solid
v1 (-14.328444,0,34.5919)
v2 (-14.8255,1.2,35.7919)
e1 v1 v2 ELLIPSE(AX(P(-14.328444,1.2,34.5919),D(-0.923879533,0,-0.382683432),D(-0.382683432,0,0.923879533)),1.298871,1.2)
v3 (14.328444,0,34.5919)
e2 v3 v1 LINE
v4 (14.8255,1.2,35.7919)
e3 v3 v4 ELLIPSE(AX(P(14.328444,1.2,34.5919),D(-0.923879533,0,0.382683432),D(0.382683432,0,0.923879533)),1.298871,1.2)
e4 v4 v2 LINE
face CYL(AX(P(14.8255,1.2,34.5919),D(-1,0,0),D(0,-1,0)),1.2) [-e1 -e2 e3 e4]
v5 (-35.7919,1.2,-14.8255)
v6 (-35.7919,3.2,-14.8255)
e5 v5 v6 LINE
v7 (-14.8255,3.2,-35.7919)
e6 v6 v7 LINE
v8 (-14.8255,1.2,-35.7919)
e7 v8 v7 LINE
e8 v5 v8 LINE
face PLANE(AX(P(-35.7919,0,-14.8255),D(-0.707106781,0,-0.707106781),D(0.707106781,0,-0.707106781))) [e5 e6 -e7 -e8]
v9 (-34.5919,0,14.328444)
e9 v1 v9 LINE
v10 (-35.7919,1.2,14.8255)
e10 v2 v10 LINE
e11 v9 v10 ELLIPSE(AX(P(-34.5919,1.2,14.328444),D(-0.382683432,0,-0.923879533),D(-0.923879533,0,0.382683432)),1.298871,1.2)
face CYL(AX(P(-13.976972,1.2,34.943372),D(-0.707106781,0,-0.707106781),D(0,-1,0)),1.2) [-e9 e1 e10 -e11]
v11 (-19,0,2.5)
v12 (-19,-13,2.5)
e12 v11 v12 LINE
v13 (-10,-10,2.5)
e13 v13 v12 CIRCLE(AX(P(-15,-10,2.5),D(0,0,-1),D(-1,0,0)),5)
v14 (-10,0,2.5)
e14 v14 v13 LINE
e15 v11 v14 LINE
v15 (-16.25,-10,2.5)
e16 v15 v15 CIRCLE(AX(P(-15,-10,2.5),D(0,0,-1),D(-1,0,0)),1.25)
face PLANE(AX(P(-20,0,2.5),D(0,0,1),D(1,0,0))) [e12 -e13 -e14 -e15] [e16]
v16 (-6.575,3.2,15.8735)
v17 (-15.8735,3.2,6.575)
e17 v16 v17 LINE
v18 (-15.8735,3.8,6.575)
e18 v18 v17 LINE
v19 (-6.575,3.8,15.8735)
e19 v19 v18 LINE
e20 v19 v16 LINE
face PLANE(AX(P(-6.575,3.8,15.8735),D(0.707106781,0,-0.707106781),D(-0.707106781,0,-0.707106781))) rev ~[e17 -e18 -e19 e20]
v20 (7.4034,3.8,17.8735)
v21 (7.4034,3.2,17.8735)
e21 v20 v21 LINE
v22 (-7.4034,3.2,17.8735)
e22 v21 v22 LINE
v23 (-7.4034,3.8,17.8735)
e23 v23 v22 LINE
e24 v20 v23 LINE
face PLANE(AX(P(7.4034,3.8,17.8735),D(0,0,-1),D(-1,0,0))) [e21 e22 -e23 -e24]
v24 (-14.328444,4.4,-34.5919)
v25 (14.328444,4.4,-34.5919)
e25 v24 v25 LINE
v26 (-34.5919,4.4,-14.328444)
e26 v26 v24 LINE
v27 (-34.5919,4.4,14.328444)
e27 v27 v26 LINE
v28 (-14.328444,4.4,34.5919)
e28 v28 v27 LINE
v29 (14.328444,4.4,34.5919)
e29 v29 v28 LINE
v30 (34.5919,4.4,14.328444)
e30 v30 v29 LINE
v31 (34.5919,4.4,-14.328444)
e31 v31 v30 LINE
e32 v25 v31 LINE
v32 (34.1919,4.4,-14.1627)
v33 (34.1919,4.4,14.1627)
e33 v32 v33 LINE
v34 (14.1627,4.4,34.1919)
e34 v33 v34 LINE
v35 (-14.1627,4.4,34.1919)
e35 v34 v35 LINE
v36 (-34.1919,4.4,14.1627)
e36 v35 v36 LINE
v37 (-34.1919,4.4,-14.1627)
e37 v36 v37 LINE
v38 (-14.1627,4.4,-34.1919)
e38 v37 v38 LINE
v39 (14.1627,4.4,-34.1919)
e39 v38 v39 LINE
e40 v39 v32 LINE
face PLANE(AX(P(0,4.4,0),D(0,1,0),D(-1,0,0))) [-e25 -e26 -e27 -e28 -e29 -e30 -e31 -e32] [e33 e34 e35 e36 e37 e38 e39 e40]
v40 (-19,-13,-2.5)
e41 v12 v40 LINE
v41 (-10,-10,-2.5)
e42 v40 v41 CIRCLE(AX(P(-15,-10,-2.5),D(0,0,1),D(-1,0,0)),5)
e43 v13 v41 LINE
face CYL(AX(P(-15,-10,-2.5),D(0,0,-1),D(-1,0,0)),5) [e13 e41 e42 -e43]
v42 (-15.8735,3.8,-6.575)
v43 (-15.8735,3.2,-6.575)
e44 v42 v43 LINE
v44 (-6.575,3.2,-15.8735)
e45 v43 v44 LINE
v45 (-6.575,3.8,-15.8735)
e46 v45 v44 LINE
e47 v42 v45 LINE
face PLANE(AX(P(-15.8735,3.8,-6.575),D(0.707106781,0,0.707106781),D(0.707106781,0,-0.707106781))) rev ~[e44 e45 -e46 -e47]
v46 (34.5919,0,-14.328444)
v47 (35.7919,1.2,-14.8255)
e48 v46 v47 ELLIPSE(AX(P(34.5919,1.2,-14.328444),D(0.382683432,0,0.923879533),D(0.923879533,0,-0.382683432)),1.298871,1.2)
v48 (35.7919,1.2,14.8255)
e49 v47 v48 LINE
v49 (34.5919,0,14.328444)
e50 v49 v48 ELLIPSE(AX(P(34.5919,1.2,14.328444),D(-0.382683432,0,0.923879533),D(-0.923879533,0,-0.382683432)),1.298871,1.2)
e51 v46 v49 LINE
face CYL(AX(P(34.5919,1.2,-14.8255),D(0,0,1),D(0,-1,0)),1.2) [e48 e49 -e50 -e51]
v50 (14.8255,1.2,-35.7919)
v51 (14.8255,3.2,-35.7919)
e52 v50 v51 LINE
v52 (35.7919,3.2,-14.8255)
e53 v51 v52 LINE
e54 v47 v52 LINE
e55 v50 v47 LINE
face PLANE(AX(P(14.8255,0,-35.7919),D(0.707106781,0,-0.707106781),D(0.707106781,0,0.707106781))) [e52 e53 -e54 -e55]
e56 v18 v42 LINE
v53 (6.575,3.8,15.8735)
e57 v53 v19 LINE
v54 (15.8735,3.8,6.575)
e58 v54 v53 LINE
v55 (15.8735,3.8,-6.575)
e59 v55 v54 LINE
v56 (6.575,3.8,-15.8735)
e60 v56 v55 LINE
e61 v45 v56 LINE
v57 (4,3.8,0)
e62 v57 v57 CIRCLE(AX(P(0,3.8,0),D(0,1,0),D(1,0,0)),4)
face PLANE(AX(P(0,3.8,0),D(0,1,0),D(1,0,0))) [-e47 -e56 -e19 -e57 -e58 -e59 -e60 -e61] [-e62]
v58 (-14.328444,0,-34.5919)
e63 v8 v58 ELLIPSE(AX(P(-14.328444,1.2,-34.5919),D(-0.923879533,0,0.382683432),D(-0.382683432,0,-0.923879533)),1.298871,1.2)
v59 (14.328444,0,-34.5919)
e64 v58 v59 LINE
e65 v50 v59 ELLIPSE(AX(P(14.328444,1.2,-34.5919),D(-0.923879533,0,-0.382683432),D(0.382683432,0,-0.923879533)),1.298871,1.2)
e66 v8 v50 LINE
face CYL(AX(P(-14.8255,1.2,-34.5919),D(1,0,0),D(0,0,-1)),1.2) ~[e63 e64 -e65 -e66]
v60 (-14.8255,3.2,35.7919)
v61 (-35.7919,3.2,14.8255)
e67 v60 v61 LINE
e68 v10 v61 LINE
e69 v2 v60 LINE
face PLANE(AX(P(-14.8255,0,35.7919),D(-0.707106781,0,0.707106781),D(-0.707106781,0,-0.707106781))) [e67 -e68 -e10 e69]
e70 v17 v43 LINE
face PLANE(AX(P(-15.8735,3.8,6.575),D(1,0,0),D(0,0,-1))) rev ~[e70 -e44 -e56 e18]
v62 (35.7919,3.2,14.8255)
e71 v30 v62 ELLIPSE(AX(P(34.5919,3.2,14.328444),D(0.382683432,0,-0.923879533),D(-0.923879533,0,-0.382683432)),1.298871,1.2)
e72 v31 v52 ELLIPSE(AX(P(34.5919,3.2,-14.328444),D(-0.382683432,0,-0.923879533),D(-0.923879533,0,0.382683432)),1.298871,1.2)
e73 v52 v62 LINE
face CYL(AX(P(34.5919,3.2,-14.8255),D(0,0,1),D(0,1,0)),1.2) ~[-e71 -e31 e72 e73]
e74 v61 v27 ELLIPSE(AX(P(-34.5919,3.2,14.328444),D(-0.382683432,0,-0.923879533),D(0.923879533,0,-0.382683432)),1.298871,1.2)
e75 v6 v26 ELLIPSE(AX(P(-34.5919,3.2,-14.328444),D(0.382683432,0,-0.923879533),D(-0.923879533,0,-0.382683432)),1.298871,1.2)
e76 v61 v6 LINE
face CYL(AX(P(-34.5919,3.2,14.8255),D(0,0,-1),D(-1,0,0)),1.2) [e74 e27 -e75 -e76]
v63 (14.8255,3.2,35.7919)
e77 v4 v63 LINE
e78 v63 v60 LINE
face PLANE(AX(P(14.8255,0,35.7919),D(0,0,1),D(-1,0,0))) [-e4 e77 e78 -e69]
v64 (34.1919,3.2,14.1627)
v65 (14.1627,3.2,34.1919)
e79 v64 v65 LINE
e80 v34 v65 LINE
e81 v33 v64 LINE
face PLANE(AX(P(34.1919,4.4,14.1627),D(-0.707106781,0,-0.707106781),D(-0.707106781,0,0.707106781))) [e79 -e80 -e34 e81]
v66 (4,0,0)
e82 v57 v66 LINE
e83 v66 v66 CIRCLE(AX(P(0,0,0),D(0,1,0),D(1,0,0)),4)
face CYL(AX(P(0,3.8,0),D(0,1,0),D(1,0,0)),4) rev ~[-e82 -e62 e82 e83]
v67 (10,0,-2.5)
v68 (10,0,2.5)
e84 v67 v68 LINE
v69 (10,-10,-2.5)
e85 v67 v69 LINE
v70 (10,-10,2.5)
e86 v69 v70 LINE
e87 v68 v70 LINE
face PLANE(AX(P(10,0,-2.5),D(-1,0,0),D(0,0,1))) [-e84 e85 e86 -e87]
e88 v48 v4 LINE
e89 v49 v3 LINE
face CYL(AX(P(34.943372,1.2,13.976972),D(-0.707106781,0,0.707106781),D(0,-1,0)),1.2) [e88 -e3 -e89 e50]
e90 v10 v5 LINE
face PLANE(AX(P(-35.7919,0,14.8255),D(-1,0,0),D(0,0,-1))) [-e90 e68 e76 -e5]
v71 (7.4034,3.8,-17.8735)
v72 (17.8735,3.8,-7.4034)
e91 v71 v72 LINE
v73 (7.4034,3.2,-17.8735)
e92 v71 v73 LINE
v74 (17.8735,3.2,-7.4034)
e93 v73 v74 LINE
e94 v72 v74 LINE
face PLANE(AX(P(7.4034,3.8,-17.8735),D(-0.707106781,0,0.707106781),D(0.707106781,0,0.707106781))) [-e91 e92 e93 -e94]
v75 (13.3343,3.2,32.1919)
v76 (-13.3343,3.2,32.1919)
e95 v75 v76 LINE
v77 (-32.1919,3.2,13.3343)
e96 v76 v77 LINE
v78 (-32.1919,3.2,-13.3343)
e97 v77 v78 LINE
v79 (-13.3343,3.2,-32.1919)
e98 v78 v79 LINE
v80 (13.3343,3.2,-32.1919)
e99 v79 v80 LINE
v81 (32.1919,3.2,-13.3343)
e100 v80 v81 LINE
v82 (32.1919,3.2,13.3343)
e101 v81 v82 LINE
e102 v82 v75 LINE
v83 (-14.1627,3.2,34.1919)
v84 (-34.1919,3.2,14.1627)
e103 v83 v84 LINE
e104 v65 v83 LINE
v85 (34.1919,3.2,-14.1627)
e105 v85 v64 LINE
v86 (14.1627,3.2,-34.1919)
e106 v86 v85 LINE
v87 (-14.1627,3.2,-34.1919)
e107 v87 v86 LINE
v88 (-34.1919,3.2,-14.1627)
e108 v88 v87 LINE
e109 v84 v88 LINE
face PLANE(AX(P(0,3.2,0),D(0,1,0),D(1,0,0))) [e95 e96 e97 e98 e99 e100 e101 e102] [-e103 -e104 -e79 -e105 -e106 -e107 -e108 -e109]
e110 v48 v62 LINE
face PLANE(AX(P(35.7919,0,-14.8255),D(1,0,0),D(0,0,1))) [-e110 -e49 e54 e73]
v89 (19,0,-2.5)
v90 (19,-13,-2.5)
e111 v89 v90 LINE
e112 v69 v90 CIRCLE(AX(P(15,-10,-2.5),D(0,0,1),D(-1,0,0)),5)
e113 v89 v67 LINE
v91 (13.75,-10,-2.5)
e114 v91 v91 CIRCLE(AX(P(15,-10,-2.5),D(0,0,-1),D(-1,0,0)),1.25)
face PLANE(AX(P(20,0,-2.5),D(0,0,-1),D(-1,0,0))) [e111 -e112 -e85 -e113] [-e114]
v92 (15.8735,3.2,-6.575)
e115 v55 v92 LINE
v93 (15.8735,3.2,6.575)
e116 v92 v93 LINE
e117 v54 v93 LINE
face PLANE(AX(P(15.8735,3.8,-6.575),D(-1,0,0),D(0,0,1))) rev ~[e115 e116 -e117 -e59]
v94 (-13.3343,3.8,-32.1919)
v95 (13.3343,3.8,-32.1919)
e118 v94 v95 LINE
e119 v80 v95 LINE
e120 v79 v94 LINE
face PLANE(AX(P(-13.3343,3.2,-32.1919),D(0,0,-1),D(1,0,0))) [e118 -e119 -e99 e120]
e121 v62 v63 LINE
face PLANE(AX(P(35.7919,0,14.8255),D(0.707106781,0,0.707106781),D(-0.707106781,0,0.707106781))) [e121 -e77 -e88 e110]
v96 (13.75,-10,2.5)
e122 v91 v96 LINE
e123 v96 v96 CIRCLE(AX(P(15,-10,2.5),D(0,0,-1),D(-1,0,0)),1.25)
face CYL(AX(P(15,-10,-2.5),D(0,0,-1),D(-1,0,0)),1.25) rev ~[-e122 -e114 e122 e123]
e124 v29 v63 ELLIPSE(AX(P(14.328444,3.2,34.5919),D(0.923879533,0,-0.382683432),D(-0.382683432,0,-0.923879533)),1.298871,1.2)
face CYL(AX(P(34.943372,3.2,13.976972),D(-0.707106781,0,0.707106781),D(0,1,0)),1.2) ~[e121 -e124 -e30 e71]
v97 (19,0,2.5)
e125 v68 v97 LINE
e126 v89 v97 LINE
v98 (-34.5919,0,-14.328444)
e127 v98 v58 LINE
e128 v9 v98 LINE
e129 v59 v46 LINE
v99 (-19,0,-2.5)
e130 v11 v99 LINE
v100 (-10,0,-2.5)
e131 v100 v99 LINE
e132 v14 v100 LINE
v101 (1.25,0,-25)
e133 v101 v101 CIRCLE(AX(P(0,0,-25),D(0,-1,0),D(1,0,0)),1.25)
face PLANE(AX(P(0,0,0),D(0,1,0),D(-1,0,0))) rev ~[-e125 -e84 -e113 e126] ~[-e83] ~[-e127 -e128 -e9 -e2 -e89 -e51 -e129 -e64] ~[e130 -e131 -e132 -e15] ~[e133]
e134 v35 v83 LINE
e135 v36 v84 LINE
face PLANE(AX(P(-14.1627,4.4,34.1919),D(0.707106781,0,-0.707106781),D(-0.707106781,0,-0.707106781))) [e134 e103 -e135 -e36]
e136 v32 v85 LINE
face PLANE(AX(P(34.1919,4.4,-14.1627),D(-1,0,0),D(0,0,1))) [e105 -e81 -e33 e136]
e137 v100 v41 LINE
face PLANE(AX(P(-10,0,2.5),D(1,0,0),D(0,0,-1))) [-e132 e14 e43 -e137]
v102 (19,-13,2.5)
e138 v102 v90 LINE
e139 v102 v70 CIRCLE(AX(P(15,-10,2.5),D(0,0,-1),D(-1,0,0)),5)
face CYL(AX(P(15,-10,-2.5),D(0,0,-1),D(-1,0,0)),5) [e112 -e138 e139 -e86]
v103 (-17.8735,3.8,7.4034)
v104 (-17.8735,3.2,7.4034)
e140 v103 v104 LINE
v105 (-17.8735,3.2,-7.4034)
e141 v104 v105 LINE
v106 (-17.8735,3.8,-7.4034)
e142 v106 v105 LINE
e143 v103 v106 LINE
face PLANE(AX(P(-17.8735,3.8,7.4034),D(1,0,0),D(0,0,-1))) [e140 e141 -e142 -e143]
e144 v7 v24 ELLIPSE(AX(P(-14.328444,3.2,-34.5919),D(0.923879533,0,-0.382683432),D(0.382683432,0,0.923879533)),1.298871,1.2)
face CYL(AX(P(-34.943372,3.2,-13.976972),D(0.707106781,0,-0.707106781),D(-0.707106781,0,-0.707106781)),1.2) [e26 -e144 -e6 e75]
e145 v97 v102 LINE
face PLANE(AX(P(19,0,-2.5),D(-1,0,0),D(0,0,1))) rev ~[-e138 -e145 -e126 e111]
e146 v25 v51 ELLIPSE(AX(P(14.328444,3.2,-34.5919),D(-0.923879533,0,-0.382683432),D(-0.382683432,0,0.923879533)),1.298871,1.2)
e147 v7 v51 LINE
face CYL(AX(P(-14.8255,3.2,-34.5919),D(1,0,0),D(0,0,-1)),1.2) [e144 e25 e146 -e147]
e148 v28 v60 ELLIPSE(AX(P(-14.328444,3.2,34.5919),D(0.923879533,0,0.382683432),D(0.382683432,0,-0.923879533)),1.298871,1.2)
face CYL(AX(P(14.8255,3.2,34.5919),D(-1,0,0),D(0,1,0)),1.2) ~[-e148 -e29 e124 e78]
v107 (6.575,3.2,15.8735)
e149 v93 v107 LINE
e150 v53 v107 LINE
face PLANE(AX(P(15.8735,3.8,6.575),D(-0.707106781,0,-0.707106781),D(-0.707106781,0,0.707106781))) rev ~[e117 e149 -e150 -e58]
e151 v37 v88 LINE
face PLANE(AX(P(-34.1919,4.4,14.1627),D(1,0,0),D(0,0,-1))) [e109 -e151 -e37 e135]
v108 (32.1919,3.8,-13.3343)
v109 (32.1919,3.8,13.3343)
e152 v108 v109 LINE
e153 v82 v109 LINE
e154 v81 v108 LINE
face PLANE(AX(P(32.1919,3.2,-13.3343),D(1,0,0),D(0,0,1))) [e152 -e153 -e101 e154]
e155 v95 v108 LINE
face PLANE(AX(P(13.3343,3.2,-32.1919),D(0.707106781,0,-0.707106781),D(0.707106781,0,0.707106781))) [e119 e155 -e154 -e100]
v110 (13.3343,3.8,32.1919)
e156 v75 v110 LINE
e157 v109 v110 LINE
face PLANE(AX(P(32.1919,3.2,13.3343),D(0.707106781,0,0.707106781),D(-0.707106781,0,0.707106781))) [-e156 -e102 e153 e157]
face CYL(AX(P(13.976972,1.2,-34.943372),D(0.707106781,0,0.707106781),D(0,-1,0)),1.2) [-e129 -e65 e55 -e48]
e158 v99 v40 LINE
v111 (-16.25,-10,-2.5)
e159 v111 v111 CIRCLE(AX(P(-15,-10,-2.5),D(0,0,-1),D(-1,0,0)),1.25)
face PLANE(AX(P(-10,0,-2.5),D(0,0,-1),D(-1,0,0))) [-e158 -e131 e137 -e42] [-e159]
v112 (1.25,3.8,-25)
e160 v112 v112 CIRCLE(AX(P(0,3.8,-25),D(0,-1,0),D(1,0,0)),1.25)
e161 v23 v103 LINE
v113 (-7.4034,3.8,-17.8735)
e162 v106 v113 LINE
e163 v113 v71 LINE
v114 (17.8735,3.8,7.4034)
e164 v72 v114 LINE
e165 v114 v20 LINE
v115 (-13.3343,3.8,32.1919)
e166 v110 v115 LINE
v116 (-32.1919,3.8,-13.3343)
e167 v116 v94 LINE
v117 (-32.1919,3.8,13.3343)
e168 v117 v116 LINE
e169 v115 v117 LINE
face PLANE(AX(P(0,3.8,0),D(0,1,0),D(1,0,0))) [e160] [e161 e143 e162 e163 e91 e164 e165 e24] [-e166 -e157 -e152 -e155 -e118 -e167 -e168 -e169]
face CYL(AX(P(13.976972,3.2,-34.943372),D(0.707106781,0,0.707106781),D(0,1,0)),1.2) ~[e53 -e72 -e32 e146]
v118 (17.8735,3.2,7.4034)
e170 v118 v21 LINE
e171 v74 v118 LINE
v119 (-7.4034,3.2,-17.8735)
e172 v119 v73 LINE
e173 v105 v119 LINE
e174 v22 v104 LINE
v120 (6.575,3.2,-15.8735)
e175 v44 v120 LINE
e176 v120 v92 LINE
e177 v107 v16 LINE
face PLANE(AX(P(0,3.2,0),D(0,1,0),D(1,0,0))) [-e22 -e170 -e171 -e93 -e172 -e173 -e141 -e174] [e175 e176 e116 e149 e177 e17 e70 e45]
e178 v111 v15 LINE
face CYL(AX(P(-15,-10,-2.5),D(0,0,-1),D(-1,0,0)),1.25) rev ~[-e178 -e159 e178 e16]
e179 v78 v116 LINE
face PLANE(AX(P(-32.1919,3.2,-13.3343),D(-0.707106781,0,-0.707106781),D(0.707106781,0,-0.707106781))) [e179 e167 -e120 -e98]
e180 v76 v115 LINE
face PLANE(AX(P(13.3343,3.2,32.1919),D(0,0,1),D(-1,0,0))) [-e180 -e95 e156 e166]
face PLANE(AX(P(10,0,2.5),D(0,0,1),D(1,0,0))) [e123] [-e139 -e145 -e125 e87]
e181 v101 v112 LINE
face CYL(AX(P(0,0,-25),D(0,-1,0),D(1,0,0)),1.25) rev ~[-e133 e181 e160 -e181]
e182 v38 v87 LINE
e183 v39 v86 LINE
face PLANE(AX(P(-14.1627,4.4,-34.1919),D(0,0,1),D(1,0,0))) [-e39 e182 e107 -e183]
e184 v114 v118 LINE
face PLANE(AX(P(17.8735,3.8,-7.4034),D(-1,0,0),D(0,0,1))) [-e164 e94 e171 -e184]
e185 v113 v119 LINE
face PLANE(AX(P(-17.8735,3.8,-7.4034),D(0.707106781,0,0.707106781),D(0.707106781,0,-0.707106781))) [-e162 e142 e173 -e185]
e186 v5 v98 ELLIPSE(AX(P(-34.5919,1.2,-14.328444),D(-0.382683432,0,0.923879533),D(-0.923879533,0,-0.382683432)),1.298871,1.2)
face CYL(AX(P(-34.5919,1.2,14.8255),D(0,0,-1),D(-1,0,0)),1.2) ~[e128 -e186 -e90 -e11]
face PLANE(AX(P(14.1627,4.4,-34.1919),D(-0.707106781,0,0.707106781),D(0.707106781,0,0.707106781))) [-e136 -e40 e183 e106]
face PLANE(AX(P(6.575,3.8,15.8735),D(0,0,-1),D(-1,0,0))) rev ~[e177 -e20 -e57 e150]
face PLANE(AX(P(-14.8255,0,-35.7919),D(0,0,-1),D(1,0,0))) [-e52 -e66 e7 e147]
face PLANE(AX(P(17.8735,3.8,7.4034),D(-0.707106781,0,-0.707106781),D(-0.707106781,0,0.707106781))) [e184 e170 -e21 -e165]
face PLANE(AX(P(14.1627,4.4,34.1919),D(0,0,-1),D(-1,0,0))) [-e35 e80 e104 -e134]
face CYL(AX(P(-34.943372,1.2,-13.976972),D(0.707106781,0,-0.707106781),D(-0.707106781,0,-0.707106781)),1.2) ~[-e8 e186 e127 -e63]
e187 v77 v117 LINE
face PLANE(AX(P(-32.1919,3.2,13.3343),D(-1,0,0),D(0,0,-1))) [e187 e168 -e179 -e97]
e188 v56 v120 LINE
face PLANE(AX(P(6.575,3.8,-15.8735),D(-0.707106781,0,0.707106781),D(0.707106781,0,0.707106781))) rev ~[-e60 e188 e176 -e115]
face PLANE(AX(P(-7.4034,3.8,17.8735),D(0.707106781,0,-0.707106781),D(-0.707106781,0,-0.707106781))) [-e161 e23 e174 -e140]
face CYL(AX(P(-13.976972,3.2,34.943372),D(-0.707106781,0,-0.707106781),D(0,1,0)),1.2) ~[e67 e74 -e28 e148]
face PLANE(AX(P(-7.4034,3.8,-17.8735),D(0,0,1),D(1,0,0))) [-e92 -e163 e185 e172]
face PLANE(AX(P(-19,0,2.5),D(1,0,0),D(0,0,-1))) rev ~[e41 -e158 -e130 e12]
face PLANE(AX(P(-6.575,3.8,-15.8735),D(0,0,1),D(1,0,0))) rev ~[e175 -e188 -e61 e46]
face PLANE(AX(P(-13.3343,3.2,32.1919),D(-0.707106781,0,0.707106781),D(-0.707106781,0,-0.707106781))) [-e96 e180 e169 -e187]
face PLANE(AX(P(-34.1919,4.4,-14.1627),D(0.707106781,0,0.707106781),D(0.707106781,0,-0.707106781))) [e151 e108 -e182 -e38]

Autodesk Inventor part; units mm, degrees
ref_plane "YZ Plane" through (0, 0, 0) normal (1, 0, 0) x (0, 1, 0)
ref_plane "XZ Plane" through (0, 0, 0) normal (0, 1, 0) x (-1, 0, 0)
ref_plane "XY Plane" through (0, 0, 0) normal (0, 0, 1) x (1, 0, 0)
sketch "스케치3" plane through (0, 0, 0) normal (0, 1, 0) x (-1, 0, 0)
  line L0 (35.7919, -14.8255) -> (14.8255, -35.7919)
  line L1 (14.8255, -35.7919) -> (-14.8255, -35.7919)
  line L2 (-14.8255, -35.7919) -> (-35.7919, -14.8255)
  line L3 (-35.7919, -14.8255) -> (-35.7919, 14.8255)
  line L4 (-35.7919, 14.8255) -> (-14.8255, 35.7919)
  line L5 (-14.8255, 35.7919) -> (14.8255, 35.7919)
  line L6 (14.8255, 35.7919) -> (35.7919, 14.8255)
  line L7 (35.7919, 14.8255) -> (35.7919, -14.8255)
  line L8 (32.5919, -13.5) -> (13.5, -32.5919)
  line L9 (13.5, -32.5919) -> (-13.5, -32.5919)
  line L10 (-13.5, -32.5919) -> (-32.5919, -13.5)
  line L11 (-32.5919, -13.5) -> (-32.5919, 13.5)
  line L12 (-32.5919, 13.5) -> (-13.5, 32.5919)
  line L13 (-13.5, 32.5919) -> (13.5, 32.5919)
  line L14 (13.5, 32.5919) -> (32.5919, 13.5)
  line L15 (32.5919, 13.5) -> (32.5919, -13.5)
  point P0 (0, 0)
  point P1 (0, 0)
  point P2 (0, 0)
  point P3 (0, 0)
  dimension "d43" = 27
  dimension "d44" = 3.2
extrude "돌출2" add sketch "스케치3" along normal blind 4.4 contours L0 L1 L2 L3 L4 L5 L6 L7 | L8 L9 L10 L11 L12 L13 L14 L15
sketch "스케치4" plane through (0, 4.4, 0) normal (0, 1, 0) x (1, 0, 0)
  line L0 (13.5, -32.5919) -> (-13.5, -32.5919)
  line L1 (-13.5, -32.5919) -> (-32.5919, -13.5)
  line L2 (-32.5919, -13.5) -> (-32.5919, 13.5)
  line L3 (-32.5919, 13.5) -> (-13.5, 32.5919)
  line L4 (-13.5, 32.5919) -> (13.5, 32.5919)
  line L5 (13.5, 32.5919) -> (32.5919, 13.5)
  line L6 (32.5919, 13.5) -> (32.5919, -13.5)
  line L7 (32.5919, -13.5) -> (13.5, -32.5919)
  line L8 (-14.1627, 34.1919) -> (14.1627, 34.1919)
  line L9 (14.1627, 34.1919) -> (34.1919, 14.1627)
  line L10 (34.1919, 14.1627) -> (34.1919, -14.1627)
  line L11 (34.1919, -14.1627) -> (14.1627, -34.1919)
  line L12 (14.1627, -34.1919) -> (-14.1627, -34.1919)
  line L13 (-14.1627, -34.1919) -> (-34.1919, -14.1627)
  line L14 (-34.1919, -14.1627) -> (-34.1919, 14.1627)
  line L15 (-34.1919, 14.1627) -> (-14.1627, 34.1919)
  line L16 (-13.3343, 32.1919) -> (13.3343, 32.1919)
  line L17 (13.3343, 32.1919) -> (32.1919, 13.3343)
  line L18 (32.1919, 13.3343) -> (32.1919, -13.3343)
  line L19 (32.1919, -13.3343) -> (13.3343, -32.1919)
  line L20 (13.3343, -32.1919) -> (-13.3343, -32.1919)
  line L21 (-13.3343, -32.1919) -> (-32.1919, -13.3343)
  line L22 (-32.1919, -13.3343) -> (-32.1919, 13.3343)
  line L23 (-32.1919, 13.3343) -> (-13.3343, 32.1919)
  line L24 (-35.7919, 14.8255) -> (-35.7919, -14.8255) projected
  point P0 (0, 0)
  point P1 (0, 0)
  point P2 (0, 0)
  point P3 (0, 0)
  dimension "d7" = 27
  dimension "d67" = 1.6
  dimension "d68" = 2
extrude "돌출3" cut sketch "스케치4" against normal blind 1.2 contours L0 L1 L2 L3 L4 L5 L6 L7 | L8 L9 L10 L11 L12 L13 L14 L15 | L16 L17 L18 L19 L20 L21 L22 L23
sketch "스케치5" plane through (0, 0, 0) normal (0, -1, 0) x (1, 0, 0)
  line L0 (10, 2.5) -> (20, 2.5)
  line L1 (20, 2.5) -> (20, -2.5)
  line L2 (20, -2.5) -> (10, -2.5)
  line L3 (10, -2.5) -> (10, 2.5)
  line L4 (10, 2.5) -> (20, -2.5) construction
  line L5 (20, 2.5) -> (10, -2.5) construction
  line L6 (-20, 2.5) -> (-10, 2.5)
  line L7 (-10, 2.5) -> (-10, -2.5)
  line L8 (-10, -2.5) -> (-20, -2.5)
  line L9 (-20, -2.5) -> (-20, 2.5)
  line L10 (-20, 2.5) -> (-10, -2.5) construction
  line L11 (-10, 2.5) -> (-20, -2.5) construction
  point P0 (0, 0)
  point P1 (15, 0)
  point P2 (-15, 0)
  dimension "d11" = 10
  dimension "d12" = 5
  dimension "d13" = 10
  dimension "d16" = 30
extrude "돌출4" add sketch "스케치5" along normal blind 10
sketch "스케치6" plane through (-10, 0, -2.5) normal (0, 0, -1) x (-1, 0, 0)
  circle A0 centre (5, -10) radius 5
  circle A1 centre (-25, -10) radius 5
  line L0 (-20, -10) -> (-30, -10) projected
  line L1 (10, -10) -> (0, -10) projected
  point P0 (-10, 0)
  dimension "d23" = 10
  dimension "d24" = 10
extrude "돌출5" add sketch "스케치6" against normal blind 5
sketch "스케치7" plane through (-10, 0, -2.5) normal (0, 0, -1) x (-1, 0, 0)
  circle A0 centre (5, -10) radius 1.25
  line L0 (10, 0) -> (10, -10) projected
  line L1 (0, 0) -> (10, 0) projected
  line L2 (4.7788, 0) -> (0, 0)
  circle A1 centre (-25, -10) radius 1.25
  point P0 (-10, 0)
  dimension "d27" = 2.5
  dimension "d28" = 5
  dimension "d31" = 30
extrude "돌출6" cut sketch "스케치7" against normal blind 5
sketch "스케치8" plane through (0, 0, 0) normal (0, -1, 0) x (1, 0, 0)
  circle A0 centre (0, -25) radius 1.25
  line L0 (-10, 2.5) -> (-10, -2.5) projected
  point P0 (0, 0)
  point P1 (-10, 0)
  dimension "d38" = 2.5
  dimension "d39" = 25
sketch "스케치9" plane through (0, 3.2, 0) normal (0, 1, 0) x (1, 0, 0)
  line L0 (-13.3343, 32.1919) -> (13.3343, 32.1919)
  line L1 (13.3343, 32.1919) -> (32.1919, 13.3343)
  line L2 (32.1919, 13.3343) -> (32.1919, -13.3343)
  line L3 (32.1919, -13.3343) -> (13.3343, -32.1919)
  line L4 (13.3343, -32.1919) -> (-13.3343, -32.1919)
  line L5 (-13.3343, -32.1919) -> (-32.1919, -13.3343)
  line L6 (-32.1919, -13.3343) -> (-32.1919, 13.3343)
  line L7 (-32.1919, 13.3343) -> (-13.3343, 32.1919)
  line L8 (-14.1627, 34.1919) -> (14.1627, 34.1919) projected
  line L9 (-12.0917, 29.1919) -> (12.0917, 29.1919)
  line L10 (12.0917, 29.1919) -> (29.1919, 12.0917)
  line L11 (29.1919, 12.0917) -> (29.1919, -12.0917)
  line L12 (29.1919, -12.0917) -> (12.0917, -29.1919)
  line L13 (12.0917, -29.1919) -> (-12.0917, -29.1919)
  line L14 (-12.0917, -29.1919) -> (-29.1919, -12.0917)
  line L15 (-29.1919, -12.0917) -> (-29.1919, 12.0917)
  line L16 (-29.1919, 12.0917) -> (-12.0917, 29.1919)
  point P0 (0, 0)
  point P1 (0, 0)
  point P2 (0, 0)
  dimension "d46" = 2
  dimension "d47" = 3
extrude "돌출8" add sketch "스케치9" along normal blind 0.6 contours L0 L1 L2 L3 L4 L5 L6 L7 | L9 L10 L11 L12 L13 L14 L15 L16
fillet "모깎기1" radius 1.2 16 edges at (-35.7919, 4.4, 0) (-25.3087, 4.4, 25.3087) (0, 4.4, 35.7919) (25.3087, 4.4, 25.3087) (35.7919, 4.4, 0) (25.3087, 4.4, -25.3087) (0, 4.4, -35.7919) (-25.3087, 4.4, -25.3087) (25.3087, 0, 25.3087) (0, 0, 35.7919) (-25.3087, 0, 25.3087) (-35.7919, 0, 0) (-25.3087, 0, -25.3087) (0, 0, -35.7919) (25.3087, 0, -25.3087) (35.7919, 0, 0)
sketch "스케치10" plane through (0, 0, 0) normal (0, -1, 0) x (1, 0, 0)
  line L0 (-20, 2.5) -> (-10, 2.5) projected
  line L1 (-10, -2.5) -> (-20, -2.5) projected
  line L2 (-20, 2.5) -> (-19, 2.5)
  line L3 (-19, 2.5) -> (-19, -2.5)
  line L4 (-19, -2.5) -> (-20, -2.5)
  line L5 (-20, -2.5) -> (-20, 2.5)
  line L6 (20, -2.5) -> (10, -2.5) projected
  line L7 (10, 2.5) -> (20, 2.5) projected
  line L8 (20, -2.5) -> (19, -2.5)
  line L9 (19, -2.5) -> (19, 2.5)
  line L10 (19, 2.5) -> (20, 2.5)
  line L11 (20, 2.5) -> (20, -2.5)
  point P0 (0, 0)
  dimension "d54" = 1
  dimension "d55" = 1
extrude "돌출9" cut sketch "스케치10" along normal blind 15
extrude "돌출10" cut sketch "스케치8" against normal blind 5
sketch "스케치11" plane through (0, 3.8, 0) normal (0, 1, 0) x (1, 0, 0)
  line L0 (-6.575, 15.8735) -> (6.575, 15.8735)
  line L1 (6.575, 15.8735) -> (15.8735, 6.575)
  line L2 (15.8735, 6.575) -> (15.8735, -6.575)
  line L3 (15.8735, -6.575) -> (6.575, -15.8735)
  line L4 (6.575, -15.8735) -> (-6.575, -15.8735)
  line L5 (-6.575, -15.8735) -> (-15.8735, -6.575)
  line L6 (-15.8735, -6.575) -> (-15.8735, 6.575)
  line L7 (-15.8735, 6.575) -> (-6.575, 15.8735)
  line L8 (-7.4034, 17.8735) -> (7.4034, 17.8735)
  line L9 (7.4034, 17.8735) -> (17.8735, 7.4034)
  line L10 (17.8735, 7.4034) -> (17.8735, -7.4034)
  line L11 (17.8735, -7.4034) -> (7.4034, -17.8735)
  line L12 (7.4034, -17.8735) -> (-7.4034, -17.8735)
  line L13 (-7.4034, -17.8735) -> (-17.8735, -7.4034)
  line L14 (-17.8735, -7.4034) -> (-17.8735, 7.4034)
  line L15 (-17.8735, 7.4034) -> (-7.4034, 17.8735)
  point P0 (0, 0)
  point P1 (0, 0)
  point P2 (0, 0)
  point P3 (0, 17.8735)
  dimension "d60" = 13.15
  dimension "d61" = 2
extrude "돌출11" cut sketch "스케치11" against normal blind 0.6
sketch "스케치12" plane through (0, 3.8, 0) normal (0, 1, 0) x (1, 0, 0)
  circle A0 centre (0, 0) radius 4
  dimension "d64" = 8
extrude "돌출12" cut sketch "스케치12" against normal up to surface (3.8 mm away)
equation "\"d55\" = d54"
properties part number "OV-PAM_top_2"
